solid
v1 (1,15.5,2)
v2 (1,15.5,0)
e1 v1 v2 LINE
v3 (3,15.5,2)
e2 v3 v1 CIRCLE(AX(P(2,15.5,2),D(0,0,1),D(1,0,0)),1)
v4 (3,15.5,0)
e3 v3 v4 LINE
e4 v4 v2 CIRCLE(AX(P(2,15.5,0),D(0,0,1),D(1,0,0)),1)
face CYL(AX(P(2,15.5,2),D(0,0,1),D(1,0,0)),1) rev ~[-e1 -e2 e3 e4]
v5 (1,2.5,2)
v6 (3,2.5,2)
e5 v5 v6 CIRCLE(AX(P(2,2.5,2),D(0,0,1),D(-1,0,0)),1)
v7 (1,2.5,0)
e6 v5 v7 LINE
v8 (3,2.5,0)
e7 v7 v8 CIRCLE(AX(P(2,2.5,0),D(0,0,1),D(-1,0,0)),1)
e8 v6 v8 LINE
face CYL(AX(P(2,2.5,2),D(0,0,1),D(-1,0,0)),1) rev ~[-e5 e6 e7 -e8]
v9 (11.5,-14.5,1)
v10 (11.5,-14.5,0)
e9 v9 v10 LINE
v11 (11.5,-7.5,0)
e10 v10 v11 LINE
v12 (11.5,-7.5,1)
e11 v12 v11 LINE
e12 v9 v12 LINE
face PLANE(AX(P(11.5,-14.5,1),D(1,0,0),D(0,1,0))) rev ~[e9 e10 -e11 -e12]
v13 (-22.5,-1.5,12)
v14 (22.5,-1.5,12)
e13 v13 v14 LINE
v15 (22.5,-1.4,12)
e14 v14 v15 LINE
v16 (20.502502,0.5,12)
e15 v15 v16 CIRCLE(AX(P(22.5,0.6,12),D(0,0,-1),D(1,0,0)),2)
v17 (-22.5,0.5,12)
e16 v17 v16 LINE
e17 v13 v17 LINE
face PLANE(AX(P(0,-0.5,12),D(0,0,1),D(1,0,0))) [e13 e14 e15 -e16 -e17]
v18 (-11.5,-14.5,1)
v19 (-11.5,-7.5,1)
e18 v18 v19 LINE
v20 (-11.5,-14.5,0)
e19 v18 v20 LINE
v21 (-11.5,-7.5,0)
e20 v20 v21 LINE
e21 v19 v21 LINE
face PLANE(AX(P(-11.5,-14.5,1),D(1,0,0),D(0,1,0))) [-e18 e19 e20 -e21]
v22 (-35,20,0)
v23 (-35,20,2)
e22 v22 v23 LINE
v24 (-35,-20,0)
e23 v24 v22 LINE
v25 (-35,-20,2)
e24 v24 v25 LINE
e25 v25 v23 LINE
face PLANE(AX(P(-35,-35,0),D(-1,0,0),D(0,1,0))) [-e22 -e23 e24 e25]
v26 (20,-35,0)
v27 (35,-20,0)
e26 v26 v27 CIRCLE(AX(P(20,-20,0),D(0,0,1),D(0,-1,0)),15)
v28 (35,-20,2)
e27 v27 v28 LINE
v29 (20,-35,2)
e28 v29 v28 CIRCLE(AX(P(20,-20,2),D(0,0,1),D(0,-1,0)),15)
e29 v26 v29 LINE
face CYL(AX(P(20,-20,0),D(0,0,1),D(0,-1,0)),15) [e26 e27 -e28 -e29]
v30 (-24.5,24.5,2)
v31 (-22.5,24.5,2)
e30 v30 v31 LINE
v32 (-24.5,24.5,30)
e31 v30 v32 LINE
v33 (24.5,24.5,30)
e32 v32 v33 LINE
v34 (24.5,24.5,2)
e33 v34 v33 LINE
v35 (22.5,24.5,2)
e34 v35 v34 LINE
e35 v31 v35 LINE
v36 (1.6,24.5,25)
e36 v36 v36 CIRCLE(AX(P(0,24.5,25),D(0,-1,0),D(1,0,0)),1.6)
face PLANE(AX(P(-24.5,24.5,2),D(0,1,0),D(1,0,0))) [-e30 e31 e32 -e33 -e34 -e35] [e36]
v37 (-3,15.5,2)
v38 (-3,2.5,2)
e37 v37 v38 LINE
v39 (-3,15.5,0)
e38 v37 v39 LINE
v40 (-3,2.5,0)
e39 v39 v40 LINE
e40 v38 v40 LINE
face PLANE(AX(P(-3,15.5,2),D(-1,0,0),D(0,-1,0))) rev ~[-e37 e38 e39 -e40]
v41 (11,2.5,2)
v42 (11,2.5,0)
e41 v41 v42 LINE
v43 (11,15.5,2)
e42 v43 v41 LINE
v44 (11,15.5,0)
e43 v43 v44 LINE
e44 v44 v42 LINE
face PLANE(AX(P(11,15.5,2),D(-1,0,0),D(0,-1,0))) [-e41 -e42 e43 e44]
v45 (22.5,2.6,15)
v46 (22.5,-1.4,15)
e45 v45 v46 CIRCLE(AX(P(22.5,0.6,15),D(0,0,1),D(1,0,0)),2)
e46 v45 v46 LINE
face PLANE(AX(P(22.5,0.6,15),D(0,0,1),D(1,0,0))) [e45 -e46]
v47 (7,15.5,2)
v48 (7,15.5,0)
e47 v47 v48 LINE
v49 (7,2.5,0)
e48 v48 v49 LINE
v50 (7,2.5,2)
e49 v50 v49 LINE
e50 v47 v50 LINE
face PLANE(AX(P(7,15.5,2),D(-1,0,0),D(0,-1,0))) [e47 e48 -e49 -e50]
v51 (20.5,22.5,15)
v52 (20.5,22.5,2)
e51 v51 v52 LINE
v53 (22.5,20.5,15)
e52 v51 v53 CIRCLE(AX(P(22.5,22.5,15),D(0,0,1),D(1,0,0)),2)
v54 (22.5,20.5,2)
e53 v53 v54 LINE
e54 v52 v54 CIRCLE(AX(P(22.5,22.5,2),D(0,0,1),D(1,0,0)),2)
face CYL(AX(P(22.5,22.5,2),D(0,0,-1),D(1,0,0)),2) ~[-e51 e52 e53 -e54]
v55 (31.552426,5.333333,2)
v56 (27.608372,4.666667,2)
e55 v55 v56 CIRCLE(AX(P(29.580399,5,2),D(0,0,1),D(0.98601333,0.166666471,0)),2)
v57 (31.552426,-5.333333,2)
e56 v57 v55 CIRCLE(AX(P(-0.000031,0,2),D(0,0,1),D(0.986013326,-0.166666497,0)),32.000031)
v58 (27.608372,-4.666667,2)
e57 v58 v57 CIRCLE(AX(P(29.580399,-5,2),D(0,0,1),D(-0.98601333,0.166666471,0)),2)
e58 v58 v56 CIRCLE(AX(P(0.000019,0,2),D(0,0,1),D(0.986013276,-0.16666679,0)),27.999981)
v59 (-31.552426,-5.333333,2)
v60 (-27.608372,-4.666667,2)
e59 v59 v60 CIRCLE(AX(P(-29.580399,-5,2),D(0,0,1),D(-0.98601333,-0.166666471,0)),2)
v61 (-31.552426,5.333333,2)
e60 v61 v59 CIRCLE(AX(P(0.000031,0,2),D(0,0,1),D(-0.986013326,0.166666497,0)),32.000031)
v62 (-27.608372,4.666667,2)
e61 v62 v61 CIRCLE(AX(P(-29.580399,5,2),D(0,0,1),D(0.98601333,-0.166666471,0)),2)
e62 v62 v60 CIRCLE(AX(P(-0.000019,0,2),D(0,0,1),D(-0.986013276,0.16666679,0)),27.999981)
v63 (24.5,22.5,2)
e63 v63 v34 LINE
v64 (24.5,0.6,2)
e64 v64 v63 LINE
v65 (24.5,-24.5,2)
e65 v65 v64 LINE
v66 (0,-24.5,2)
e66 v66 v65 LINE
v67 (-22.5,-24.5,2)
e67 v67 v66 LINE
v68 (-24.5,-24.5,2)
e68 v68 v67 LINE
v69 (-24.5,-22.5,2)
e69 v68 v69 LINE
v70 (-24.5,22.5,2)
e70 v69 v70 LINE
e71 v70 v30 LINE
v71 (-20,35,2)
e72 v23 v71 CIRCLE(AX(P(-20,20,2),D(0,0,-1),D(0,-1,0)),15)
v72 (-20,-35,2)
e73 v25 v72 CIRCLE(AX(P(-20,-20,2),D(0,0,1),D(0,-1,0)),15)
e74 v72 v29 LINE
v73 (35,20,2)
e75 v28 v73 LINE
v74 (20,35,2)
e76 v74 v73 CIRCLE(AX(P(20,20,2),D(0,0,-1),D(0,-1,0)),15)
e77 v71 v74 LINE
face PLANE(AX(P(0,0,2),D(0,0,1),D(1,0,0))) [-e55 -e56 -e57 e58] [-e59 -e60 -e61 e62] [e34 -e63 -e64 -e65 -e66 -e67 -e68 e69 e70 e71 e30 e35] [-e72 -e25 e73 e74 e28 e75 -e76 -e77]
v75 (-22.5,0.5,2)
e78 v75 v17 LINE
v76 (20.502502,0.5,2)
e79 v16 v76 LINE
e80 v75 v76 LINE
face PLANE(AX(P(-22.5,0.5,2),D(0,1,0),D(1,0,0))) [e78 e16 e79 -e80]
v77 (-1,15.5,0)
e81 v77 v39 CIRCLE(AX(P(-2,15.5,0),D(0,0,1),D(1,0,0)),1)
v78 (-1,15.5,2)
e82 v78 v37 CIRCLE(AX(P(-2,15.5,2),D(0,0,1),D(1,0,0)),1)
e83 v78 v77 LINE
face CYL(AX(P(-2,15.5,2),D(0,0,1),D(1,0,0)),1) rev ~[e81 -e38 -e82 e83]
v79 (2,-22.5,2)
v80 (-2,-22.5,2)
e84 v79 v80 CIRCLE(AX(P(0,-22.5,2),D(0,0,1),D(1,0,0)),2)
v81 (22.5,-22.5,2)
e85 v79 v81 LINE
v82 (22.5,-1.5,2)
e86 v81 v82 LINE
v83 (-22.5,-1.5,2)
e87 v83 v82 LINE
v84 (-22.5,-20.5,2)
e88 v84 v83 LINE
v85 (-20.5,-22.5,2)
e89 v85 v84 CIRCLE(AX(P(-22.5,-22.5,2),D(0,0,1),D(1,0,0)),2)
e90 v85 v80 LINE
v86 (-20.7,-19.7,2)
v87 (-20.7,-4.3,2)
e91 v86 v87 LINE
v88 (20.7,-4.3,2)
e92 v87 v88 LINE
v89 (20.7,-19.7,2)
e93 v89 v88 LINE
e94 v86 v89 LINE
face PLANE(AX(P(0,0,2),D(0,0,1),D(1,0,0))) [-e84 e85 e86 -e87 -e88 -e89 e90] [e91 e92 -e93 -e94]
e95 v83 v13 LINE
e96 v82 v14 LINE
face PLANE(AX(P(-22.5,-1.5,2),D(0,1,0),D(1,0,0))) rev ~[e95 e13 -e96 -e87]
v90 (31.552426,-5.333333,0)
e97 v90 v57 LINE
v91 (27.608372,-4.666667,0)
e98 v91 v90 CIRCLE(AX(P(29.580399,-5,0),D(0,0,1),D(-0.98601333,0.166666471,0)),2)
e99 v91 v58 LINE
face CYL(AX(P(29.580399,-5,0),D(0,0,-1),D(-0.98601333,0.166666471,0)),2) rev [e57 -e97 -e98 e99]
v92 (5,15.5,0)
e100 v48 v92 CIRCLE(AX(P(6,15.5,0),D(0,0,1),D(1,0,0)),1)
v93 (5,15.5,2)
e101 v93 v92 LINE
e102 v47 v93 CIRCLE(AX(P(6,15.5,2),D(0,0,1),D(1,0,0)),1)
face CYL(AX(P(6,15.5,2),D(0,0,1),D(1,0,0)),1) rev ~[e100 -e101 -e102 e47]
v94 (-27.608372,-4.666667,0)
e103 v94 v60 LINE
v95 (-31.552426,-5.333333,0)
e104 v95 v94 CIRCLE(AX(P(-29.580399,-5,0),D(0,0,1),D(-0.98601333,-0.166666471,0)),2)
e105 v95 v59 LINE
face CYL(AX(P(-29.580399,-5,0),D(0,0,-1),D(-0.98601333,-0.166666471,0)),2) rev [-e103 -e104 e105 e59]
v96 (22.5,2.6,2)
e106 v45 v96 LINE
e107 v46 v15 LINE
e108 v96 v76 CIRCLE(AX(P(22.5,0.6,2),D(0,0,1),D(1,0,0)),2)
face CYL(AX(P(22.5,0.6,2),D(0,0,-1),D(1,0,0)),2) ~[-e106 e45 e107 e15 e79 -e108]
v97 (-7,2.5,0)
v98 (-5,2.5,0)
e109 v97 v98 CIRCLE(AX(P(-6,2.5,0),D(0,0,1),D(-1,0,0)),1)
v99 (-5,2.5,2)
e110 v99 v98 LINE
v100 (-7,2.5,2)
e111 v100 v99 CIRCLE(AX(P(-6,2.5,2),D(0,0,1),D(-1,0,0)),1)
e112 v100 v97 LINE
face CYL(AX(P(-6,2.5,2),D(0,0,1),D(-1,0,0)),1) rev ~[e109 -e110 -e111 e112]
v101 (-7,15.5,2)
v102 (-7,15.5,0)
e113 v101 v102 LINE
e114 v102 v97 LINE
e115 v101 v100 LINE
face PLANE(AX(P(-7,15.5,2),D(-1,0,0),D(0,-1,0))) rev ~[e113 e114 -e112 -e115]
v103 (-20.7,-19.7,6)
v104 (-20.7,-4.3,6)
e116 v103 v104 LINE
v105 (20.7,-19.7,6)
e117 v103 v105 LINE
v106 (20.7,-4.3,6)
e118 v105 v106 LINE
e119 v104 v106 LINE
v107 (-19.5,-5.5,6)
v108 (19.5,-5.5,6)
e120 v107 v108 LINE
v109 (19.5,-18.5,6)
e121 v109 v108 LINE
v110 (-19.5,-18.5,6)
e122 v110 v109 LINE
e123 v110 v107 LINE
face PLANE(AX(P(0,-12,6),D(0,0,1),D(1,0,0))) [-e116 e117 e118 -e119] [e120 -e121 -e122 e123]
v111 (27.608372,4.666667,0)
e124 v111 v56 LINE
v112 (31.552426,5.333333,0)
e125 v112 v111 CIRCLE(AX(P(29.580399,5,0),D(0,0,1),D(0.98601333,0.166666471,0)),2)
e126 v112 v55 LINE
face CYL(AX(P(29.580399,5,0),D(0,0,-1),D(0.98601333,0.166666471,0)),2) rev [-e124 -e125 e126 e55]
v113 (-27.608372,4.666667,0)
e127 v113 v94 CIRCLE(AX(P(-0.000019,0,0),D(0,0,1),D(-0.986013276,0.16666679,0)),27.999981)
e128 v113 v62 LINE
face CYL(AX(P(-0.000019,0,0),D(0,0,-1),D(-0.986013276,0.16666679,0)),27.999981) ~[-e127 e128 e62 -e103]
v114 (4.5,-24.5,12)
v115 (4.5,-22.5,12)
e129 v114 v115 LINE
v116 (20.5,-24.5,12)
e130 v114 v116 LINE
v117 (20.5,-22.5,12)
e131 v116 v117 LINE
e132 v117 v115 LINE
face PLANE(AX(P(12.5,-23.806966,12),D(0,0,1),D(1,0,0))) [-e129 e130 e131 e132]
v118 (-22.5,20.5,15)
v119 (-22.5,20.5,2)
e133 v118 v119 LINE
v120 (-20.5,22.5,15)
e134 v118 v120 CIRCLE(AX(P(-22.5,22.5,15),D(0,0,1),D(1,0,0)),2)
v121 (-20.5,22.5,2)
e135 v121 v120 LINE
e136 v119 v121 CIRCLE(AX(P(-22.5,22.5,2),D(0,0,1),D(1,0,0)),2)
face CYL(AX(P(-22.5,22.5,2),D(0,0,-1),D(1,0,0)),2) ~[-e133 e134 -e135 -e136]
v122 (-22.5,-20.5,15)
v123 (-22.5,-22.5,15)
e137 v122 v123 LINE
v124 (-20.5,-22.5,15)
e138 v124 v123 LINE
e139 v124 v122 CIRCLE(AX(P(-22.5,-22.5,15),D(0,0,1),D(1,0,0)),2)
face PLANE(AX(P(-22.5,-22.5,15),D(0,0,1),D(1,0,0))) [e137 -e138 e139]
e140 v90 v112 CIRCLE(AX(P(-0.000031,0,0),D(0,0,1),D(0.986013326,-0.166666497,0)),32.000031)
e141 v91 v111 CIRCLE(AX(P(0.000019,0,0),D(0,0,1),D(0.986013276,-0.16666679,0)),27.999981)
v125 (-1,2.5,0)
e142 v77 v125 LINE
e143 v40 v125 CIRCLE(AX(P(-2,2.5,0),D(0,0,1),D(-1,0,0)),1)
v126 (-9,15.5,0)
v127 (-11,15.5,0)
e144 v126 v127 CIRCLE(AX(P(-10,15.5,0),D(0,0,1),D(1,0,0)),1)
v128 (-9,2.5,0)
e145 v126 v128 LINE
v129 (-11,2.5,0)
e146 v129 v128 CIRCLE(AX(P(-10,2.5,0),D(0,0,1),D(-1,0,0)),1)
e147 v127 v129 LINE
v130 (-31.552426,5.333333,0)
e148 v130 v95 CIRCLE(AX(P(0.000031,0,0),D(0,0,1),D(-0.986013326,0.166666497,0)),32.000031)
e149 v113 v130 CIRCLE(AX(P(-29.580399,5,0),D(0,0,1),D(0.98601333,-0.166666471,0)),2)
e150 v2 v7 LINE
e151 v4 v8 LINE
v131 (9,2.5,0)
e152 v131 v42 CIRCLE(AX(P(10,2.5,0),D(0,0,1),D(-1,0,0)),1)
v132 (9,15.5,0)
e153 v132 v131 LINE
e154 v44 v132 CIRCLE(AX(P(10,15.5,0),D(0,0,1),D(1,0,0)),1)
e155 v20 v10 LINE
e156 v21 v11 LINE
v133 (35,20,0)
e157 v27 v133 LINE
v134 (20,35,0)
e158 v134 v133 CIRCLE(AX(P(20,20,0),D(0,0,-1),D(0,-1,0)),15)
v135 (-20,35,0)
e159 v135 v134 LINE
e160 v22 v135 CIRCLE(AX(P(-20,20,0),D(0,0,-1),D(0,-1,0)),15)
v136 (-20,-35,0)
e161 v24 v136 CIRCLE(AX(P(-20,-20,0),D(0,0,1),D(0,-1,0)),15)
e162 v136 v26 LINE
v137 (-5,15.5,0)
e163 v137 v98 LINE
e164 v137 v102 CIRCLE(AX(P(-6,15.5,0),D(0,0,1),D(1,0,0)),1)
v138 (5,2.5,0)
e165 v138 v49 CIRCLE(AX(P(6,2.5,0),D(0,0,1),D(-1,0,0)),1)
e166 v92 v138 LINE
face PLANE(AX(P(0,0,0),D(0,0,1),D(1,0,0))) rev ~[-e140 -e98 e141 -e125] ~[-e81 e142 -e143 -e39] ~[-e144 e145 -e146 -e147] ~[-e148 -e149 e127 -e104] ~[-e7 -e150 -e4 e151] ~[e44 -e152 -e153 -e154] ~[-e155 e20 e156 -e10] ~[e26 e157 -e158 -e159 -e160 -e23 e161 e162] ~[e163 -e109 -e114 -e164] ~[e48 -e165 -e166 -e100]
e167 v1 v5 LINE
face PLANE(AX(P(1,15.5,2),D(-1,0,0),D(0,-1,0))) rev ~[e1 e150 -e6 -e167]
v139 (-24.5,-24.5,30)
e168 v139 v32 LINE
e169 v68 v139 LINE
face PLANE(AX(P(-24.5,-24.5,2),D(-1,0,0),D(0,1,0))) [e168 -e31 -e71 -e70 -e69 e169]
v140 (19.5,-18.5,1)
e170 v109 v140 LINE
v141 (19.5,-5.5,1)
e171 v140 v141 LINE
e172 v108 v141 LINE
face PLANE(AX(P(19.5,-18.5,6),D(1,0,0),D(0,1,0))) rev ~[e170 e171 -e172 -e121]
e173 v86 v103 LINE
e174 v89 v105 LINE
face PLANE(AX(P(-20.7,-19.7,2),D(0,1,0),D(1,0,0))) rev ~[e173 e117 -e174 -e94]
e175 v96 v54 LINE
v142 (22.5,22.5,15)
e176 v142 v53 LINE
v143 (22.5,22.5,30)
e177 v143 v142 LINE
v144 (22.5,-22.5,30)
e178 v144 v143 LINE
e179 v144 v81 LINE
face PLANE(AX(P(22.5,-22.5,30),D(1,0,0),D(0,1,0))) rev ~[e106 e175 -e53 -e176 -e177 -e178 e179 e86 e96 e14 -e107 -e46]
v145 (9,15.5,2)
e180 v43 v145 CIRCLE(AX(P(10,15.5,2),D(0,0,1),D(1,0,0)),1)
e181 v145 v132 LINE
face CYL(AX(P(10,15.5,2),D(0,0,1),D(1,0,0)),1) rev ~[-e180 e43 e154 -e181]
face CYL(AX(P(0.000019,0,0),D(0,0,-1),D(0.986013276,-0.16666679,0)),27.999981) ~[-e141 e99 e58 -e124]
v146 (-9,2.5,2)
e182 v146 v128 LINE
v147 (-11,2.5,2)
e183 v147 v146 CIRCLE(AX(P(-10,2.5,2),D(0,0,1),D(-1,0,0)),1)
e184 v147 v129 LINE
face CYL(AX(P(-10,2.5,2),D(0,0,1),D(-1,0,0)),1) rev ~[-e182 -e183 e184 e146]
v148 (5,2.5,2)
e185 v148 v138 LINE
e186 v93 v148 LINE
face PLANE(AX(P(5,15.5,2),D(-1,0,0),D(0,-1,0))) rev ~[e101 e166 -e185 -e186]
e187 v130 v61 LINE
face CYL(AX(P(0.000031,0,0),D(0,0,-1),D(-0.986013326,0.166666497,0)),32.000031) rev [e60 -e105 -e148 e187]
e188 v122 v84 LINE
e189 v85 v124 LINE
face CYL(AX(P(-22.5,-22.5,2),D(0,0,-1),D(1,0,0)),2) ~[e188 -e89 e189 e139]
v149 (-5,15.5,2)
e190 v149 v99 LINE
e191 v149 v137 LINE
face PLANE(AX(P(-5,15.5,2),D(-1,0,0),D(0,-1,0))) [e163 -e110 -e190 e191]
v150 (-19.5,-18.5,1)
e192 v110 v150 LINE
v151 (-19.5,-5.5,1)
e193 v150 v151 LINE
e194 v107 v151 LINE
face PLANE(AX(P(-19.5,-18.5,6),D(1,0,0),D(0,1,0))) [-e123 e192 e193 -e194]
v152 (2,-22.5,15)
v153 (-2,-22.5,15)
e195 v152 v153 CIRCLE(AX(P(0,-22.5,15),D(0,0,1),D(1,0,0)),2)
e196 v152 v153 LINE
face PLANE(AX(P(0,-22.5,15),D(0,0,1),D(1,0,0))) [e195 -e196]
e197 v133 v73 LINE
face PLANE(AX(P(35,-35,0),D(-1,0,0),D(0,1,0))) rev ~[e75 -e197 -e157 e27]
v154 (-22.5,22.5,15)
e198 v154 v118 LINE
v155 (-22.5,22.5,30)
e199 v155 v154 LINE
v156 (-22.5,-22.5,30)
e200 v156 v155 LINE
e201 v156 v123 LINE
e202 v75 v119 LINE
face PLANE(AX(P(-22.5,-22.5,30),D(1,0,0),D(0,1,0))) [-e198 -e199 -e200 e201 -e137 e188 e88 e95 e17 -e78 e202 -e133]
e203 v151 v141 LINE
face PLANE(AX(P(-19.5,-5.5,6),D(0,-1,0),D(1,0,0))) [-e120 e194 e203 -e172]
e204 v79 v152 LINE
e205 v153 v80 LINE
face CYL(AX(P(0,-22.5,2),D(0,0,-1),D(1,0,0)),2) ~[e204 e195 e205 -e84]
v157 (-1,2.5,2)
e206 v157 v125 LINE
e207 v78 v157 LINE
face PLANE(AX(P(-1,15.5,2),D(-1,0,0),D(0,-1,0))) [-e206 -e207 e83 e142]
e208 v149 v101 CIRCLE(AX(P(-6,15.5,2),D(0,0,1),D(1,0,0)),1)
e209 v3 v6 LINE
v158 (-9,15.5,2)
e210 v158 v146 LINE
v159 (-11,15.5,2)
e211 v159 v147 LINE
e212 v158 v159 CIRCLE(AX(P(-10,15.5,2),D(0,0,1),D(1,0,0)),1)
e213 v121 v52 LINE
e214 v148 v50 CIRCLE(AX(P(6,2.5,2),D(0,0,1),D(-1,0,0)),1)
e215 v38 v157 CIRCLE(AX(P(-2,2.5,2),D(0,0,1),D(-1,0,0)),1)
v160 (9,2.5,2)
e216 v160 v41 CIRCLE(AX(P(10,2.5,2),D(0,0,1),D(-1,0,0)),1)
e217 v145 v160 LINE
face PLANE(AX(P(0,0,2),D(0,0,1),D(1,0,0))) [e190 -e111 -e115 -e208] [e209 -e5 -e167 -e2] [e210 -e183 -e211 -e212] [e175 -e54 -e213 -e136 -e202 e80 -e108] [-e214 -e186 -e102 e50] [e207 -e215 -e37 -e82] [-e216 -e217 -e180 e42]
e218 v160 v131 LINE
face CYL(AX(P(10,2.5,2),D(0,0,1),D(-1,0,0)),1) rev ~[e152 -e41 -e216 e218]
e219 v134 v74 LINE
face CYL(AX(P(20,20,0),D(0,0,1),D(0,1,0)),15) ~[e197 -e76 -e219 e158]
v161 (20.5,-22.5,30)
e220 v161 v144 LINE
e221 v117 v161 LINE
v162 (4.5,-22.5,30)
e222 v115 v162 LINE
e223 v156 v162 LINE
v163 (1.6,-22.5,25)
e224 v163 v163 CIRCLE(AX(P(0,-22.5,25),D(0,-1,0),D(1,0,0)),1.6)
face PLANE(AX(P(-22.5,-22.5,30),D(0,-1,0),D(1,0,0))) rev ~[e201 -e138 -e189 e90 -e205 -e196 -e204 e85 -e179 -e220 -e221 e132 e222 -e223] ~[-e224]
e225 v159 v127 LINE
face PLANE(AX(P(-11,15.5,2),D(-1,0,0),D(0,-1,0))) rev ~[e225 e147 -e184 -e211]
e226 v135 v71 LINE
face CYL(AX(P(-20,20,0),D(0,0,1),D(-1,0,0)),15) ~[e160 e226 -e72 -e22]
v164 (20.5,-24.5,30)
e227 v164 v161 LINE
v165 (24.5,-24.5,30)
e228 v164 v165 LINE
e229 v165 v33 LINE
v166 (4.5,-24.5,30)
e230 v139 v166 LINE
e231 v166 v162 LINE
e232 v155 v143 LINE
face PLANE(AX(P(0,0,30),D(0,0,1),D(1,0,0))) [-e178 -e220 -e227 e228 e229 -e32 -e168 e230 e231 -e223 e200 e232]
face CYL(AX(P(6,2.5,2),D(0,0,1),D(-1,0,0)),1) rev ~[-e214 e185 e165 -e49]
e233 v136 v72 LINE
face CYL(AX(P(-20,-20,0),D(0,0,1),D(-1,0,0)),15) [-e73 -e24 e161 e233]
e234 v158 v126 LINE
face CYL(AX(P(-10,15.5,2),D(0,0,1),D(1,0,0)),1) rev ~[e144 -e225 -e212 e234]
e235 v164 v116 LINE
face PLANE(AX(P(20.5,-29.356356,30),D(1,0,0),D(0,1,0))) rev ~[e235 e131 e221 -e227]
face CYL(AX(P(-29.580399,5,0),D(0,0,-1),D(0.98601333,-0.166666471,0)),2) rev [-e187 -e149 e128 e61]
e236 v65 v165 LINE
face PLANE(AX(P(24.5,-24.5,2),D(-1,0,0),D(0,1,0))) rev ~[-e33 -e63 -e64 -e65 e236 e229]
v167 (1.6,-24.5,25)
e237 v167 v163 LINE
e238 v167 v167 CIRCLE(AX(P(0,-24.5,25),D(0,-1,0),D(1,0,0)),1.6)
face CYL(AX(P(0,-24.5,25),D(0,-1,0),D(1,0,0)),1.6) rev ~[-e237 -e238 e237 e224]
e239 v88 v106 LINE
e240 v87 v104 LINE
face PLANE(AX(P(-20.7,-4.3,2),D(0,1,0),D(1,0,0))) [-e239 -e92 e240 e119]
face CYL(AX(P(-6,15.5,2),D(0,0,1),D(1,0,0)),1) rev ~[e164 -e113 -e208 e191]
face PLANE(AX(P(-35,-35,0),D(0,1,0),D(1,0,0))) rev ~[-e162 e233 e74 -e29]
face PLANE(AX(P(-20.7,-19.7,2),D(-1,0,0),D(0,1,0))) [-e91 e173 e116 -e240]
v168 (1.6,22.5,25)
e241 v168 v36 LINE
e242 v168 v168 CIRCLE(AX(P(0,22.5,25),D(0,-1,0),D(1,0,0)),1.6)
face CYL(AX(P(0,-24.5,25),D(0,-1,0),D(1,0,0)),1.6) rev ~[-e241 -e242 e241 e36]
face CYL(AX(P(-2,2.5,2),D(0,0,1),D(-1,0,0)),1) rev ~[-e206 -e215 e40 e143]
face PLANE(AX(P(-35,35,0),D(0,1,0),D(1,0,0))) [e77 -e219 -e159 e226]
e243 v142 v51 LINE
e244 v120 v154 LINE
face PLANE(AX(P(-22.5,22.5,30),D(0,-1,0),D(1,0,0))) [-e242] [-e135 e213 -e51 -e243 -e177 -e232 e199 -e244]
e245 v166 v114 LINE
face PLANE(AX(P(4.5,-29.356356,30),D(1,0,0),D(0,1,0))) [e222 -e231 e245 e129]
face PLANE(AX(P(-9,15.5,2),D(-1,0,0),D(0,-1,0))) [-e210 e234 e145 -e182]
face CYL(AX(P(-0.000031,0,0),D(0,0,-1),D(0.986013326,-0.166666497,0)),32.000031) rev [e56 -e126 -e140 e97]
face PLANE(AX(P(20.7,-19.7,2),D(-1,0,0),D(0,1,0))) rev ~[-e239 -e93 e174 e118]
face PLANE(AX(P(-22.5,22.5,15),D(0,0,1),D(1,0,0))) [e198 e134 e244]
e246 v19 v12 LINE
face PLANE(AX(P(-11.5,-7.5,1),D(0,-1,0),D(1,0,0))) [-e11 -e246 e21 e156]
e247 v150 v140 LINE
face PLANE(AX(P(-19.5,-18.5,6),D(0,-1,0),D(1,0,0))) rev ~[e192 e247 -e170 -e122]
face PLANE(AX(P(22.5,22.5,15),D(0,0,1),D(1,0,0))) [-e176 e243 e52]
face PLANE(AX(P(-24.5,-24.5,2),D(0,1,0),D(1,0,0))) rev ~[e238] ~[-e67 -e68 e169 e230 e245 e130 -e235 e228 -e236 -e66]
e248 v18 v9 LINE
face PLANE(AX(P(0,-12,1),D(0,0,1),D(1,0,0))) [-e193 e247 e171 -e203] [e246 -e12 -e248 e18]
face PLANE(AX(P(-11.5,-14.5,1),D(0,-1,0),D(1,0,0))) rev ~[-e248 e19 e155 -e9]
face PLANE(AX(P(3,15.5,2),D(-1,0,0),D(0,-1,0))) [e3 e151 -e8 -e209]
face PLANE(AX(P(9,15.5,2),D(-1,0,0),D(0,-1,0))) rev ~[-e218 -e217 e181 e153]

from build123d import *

# Parameters (mm, degrees)
SKETCH_W        = 70
SKETCH_H        = 70
PAD_DEPTH       = 2
SKETCH001_W     = 49
SKETCH001_H     = 49
PAD001_DEPTH    = 28
SKETCH002_W     = 45
SKETCH002_H     = 45
POCKET_DEPTH    = 28
SKETCH003_W     = 16
SKETCH003_H     = 11.09878
POCKET001_DEPTH = 18
SKETCH004_W     = 45
SKETCH004_H     = 2
PAD002_DEPTH    = 10
SKETCH005_W     = 41.4
SKETCH005_H     = 15.4
PAD003_DEPTH    = 4
SKETCH006_W     = 39
SKETCH006_H     = 13
POCKET002_DEPTH = 5
SKETCH007_W     = 23
SKETCH007_H     = 7
POCKET003_DEPTH = 1.001
POCKET004_DEPTH = 5
SKETCH009_R     = 1.6
POCKET005_DEPTH = 59.501
FILLET_R        = 15
SKETCH010_R     = 2
PAD004_DEPTH    = 13


with BuildPart() as part:
    # Sketch → Pad (new body)
    with BuildSketch(Plane.XY):
        Rectangle(SKETCH_W, SKETCH_H)
        with BuildLine():
            ThreePointArc((27.608372, -4.666667), (28, 0), (27.608372, 4.666667))
            ThreePointArc((31.552426, 5.333333), (29.247066, 6.972027), (27.608372, 4.666667))
            ThreePointArc((31.552426, -5.333333), (32, 0), (31.552426, 5.333333))
            ThreePointArc((27.608372, -4.666667), (29.247066, -6.972027), (31.552426, -5.333333))
        make_face(mode=Mode.SUBTRACT)
        with BuildLine():
            ThreePointArc((-27.608372, 4.666667), (-28, 0), (-27.608372, -4.666667))
            ThreePointArc((-31.552426, -5.333333), (-29.247066, -6.972027), (-27.608372, -4.666667))
            ThreePointArc((-31.552426, 5.333333), (-32, 0), (-31.552426, -5.333333))
            ThreePointArc((-27.608372, 4.666667), (-29.247066, 6.972027), (-31.552426, 5.333333))
        make_face(mode=Mode.SUBTRACT)
    extrude(amount=PAD_DEPTH)

    # Sketch001 (on Face14 of Pad) → Pad001 (join)
    with BuildSketch(Plane.XY.offset(2)):
        Rectangle(SKETCH001_W, SKETCH001_H)
    extrude(amount=PAD001_DEPTH)

    # Sketch002 (on Face19 of Pad001) → Pocket (cut)
    with BuildSketch(Plane.XY.offset(30)):
        Rectangle(SKETCH002_W, SKETCH002_H)
    extrude(amount=-POCKET_DEPTH, mode=Mode.SUBTRACT)

    # Sketch003 (on Face19 of Pocket) → Pocket001 (cut)
    with BuildSketch(Plane.XY.offset(30)):
        with Locations((12.5, -23.806966)):
            Rectangle(SKETCH003_W, SKETCH003_H)
    extrude(amount=-POCKET001_DEPTH, mode=Mode.SUBTRACT)

    # Sketch004 (on Face27 of Pocket001) → Pad002 (join)
    with BuildSketch(Plane.XY.offset(2)):
        with Locations((0, -0.5)):
            Rectangle(SKETCH004_W, SKETCH004_H)
    extrude(amount=PAD002_DEPTH)

    # Sketch005 (on Face27 of Pad002) → Pad003 (join)
    with BuildSketch(Plane.XY.offset(2)):
        with Locations((0, -12)):
            Rectangle(SKETCH005_W, SKETCH005_H)
    extrude(amount=PAD003_DEPTH)

    # Sketch006 (on Face36 of Pad003) → Pocket002 (cut)
    with BuildSketch(Plane.XY.offset(6)):
        with Locations((0, -12)):
            Rectangle(SKETCH006_W, SKETCH006_H)
    extrude(amount=-POCKET002_DEPTH, mode=Mode.SUBTRACT)

    # Sketch007 (on Face41 of Pocket002) → Pocket003 (cut, through all)
    with BuildSketch(Plane.XY.offset(1)):
        with Locations((0, -11)):
            Rectangle(SKETCH007_W, SKETCH007_H)
    extrude(amount=-POCKET003_DEPTH, mode=Mode.SUBTRACT)

    # Sketch008 (on Face37 of Pocket003) → Pocket004 (cut)
    with BuildSketch(Plane.XY.offset(2)):
        with BuildLine():
            Line((-11, 15.5), (-11, 2.5))
            ThreePointArc((-11, 2.5), (-10, 1.5), (-9, 2.5))
            Line((-9, 15.5), (-9, 2.5))
            ThreePointArc((-9, 15.5), (-10, 16.5), (-11, 15.5))
        make_face()
        with BuildLine():
            Line((-7, 15.5), (-7, 2.5))
            ThreePointArc((-7, 2.5), (-6, 1.5), (-5, 2.5))
            Line((-5, 15.5), (-5, 2.5))
            ThreePointArc((-5, 15.5), (-6, 16.5), (-7, 15.5))
        make_face()
        with BuildLine():
            Line((-3, 15.5), (-3, 2.5))
            ThreePointArc((-3, 2.5), (-2, 1.5), (-1, 2.5))
            Line((-1, 15.5), (-1, 2.5))
            ThreePointArc((-1, 15.5), (-2, 16.5), (-3, 15.5))
        make_face()
        with BuildLine():
            Line((1, 15.5), (1, 2.5))
            ThreePointArc((1, 2.5), (2, 1.5), (3, 2.5))
            Line((3, 15.5), (3, 2.5))
            ThreePointArc((3, 15.5), (2, 16.5), (1, 15.5))
        make_face()
        with BuildLine():
            Line((5, 15.5), (5, 2.5))
            ThreePointArc((5, 2.5), (6, 1.5), (7, 2.5))
            Line((7, 15.5), (7, 2.5))
            ThreePointArc((7, 15.5), (6, 16.5), (5, 15.5))
        make_face()
        with BuildLine():
            Line((9, 15.5), (9, 2.5))
            ThreePointArc((9, 2.5), (10, 1.5), (11, 2.5))
            Line((11, 15.5), (11, 2.5))
            ThreePointArc((11, 15.5), (10, 16.5), (9, 15.5))
        make_face()
    extrude(amount=-POCKET004_DEPTH, mode=Mode.SUBTRACT)

    # Sketch009 (on Face45 of Pocket004) → Pocket005 (cut, through all)
    with BuildSketch(Plane.XZ.offset(24.5)):
        with Locations((0, 25)):
            Circle(SKETCH009_R)
    extrude(amount=-POCKET005_DEPTH, mode=Mode.SUBTRACT)

    # Fillet
    fillet_edges = [part.edges().sort_by_distance(p)[0] for p in [
        (-35, 35, 1),
        (35, 35, 1),
        (35, -35, 1),
        (-35, -35, 1),
    ]]
    fillet(fillet_edges, radius=FILLET_R)

    # Sketch010 (on Face52 of Fillet) → Pad004 (join)
    with BuildSketch(Plane.XY.offset(2)):
        with Locations((22.5, 22.5)):
            Circle(SKETCH010_R)
        with Locations((-22.5, 22.5)):
            Circle(SKETCH010_R)
        with Locations((22.5, 0.6)):
            Circle(SKETCH010_R)
        with Locations((0, -22.5)):
            Circle(SKETCH010_R)
        with Locations((-22.5, -22.5)):
            Circle(SKETCH010_R)
    extrude(amount=PAD004_DEPTH)


solid = part.part
